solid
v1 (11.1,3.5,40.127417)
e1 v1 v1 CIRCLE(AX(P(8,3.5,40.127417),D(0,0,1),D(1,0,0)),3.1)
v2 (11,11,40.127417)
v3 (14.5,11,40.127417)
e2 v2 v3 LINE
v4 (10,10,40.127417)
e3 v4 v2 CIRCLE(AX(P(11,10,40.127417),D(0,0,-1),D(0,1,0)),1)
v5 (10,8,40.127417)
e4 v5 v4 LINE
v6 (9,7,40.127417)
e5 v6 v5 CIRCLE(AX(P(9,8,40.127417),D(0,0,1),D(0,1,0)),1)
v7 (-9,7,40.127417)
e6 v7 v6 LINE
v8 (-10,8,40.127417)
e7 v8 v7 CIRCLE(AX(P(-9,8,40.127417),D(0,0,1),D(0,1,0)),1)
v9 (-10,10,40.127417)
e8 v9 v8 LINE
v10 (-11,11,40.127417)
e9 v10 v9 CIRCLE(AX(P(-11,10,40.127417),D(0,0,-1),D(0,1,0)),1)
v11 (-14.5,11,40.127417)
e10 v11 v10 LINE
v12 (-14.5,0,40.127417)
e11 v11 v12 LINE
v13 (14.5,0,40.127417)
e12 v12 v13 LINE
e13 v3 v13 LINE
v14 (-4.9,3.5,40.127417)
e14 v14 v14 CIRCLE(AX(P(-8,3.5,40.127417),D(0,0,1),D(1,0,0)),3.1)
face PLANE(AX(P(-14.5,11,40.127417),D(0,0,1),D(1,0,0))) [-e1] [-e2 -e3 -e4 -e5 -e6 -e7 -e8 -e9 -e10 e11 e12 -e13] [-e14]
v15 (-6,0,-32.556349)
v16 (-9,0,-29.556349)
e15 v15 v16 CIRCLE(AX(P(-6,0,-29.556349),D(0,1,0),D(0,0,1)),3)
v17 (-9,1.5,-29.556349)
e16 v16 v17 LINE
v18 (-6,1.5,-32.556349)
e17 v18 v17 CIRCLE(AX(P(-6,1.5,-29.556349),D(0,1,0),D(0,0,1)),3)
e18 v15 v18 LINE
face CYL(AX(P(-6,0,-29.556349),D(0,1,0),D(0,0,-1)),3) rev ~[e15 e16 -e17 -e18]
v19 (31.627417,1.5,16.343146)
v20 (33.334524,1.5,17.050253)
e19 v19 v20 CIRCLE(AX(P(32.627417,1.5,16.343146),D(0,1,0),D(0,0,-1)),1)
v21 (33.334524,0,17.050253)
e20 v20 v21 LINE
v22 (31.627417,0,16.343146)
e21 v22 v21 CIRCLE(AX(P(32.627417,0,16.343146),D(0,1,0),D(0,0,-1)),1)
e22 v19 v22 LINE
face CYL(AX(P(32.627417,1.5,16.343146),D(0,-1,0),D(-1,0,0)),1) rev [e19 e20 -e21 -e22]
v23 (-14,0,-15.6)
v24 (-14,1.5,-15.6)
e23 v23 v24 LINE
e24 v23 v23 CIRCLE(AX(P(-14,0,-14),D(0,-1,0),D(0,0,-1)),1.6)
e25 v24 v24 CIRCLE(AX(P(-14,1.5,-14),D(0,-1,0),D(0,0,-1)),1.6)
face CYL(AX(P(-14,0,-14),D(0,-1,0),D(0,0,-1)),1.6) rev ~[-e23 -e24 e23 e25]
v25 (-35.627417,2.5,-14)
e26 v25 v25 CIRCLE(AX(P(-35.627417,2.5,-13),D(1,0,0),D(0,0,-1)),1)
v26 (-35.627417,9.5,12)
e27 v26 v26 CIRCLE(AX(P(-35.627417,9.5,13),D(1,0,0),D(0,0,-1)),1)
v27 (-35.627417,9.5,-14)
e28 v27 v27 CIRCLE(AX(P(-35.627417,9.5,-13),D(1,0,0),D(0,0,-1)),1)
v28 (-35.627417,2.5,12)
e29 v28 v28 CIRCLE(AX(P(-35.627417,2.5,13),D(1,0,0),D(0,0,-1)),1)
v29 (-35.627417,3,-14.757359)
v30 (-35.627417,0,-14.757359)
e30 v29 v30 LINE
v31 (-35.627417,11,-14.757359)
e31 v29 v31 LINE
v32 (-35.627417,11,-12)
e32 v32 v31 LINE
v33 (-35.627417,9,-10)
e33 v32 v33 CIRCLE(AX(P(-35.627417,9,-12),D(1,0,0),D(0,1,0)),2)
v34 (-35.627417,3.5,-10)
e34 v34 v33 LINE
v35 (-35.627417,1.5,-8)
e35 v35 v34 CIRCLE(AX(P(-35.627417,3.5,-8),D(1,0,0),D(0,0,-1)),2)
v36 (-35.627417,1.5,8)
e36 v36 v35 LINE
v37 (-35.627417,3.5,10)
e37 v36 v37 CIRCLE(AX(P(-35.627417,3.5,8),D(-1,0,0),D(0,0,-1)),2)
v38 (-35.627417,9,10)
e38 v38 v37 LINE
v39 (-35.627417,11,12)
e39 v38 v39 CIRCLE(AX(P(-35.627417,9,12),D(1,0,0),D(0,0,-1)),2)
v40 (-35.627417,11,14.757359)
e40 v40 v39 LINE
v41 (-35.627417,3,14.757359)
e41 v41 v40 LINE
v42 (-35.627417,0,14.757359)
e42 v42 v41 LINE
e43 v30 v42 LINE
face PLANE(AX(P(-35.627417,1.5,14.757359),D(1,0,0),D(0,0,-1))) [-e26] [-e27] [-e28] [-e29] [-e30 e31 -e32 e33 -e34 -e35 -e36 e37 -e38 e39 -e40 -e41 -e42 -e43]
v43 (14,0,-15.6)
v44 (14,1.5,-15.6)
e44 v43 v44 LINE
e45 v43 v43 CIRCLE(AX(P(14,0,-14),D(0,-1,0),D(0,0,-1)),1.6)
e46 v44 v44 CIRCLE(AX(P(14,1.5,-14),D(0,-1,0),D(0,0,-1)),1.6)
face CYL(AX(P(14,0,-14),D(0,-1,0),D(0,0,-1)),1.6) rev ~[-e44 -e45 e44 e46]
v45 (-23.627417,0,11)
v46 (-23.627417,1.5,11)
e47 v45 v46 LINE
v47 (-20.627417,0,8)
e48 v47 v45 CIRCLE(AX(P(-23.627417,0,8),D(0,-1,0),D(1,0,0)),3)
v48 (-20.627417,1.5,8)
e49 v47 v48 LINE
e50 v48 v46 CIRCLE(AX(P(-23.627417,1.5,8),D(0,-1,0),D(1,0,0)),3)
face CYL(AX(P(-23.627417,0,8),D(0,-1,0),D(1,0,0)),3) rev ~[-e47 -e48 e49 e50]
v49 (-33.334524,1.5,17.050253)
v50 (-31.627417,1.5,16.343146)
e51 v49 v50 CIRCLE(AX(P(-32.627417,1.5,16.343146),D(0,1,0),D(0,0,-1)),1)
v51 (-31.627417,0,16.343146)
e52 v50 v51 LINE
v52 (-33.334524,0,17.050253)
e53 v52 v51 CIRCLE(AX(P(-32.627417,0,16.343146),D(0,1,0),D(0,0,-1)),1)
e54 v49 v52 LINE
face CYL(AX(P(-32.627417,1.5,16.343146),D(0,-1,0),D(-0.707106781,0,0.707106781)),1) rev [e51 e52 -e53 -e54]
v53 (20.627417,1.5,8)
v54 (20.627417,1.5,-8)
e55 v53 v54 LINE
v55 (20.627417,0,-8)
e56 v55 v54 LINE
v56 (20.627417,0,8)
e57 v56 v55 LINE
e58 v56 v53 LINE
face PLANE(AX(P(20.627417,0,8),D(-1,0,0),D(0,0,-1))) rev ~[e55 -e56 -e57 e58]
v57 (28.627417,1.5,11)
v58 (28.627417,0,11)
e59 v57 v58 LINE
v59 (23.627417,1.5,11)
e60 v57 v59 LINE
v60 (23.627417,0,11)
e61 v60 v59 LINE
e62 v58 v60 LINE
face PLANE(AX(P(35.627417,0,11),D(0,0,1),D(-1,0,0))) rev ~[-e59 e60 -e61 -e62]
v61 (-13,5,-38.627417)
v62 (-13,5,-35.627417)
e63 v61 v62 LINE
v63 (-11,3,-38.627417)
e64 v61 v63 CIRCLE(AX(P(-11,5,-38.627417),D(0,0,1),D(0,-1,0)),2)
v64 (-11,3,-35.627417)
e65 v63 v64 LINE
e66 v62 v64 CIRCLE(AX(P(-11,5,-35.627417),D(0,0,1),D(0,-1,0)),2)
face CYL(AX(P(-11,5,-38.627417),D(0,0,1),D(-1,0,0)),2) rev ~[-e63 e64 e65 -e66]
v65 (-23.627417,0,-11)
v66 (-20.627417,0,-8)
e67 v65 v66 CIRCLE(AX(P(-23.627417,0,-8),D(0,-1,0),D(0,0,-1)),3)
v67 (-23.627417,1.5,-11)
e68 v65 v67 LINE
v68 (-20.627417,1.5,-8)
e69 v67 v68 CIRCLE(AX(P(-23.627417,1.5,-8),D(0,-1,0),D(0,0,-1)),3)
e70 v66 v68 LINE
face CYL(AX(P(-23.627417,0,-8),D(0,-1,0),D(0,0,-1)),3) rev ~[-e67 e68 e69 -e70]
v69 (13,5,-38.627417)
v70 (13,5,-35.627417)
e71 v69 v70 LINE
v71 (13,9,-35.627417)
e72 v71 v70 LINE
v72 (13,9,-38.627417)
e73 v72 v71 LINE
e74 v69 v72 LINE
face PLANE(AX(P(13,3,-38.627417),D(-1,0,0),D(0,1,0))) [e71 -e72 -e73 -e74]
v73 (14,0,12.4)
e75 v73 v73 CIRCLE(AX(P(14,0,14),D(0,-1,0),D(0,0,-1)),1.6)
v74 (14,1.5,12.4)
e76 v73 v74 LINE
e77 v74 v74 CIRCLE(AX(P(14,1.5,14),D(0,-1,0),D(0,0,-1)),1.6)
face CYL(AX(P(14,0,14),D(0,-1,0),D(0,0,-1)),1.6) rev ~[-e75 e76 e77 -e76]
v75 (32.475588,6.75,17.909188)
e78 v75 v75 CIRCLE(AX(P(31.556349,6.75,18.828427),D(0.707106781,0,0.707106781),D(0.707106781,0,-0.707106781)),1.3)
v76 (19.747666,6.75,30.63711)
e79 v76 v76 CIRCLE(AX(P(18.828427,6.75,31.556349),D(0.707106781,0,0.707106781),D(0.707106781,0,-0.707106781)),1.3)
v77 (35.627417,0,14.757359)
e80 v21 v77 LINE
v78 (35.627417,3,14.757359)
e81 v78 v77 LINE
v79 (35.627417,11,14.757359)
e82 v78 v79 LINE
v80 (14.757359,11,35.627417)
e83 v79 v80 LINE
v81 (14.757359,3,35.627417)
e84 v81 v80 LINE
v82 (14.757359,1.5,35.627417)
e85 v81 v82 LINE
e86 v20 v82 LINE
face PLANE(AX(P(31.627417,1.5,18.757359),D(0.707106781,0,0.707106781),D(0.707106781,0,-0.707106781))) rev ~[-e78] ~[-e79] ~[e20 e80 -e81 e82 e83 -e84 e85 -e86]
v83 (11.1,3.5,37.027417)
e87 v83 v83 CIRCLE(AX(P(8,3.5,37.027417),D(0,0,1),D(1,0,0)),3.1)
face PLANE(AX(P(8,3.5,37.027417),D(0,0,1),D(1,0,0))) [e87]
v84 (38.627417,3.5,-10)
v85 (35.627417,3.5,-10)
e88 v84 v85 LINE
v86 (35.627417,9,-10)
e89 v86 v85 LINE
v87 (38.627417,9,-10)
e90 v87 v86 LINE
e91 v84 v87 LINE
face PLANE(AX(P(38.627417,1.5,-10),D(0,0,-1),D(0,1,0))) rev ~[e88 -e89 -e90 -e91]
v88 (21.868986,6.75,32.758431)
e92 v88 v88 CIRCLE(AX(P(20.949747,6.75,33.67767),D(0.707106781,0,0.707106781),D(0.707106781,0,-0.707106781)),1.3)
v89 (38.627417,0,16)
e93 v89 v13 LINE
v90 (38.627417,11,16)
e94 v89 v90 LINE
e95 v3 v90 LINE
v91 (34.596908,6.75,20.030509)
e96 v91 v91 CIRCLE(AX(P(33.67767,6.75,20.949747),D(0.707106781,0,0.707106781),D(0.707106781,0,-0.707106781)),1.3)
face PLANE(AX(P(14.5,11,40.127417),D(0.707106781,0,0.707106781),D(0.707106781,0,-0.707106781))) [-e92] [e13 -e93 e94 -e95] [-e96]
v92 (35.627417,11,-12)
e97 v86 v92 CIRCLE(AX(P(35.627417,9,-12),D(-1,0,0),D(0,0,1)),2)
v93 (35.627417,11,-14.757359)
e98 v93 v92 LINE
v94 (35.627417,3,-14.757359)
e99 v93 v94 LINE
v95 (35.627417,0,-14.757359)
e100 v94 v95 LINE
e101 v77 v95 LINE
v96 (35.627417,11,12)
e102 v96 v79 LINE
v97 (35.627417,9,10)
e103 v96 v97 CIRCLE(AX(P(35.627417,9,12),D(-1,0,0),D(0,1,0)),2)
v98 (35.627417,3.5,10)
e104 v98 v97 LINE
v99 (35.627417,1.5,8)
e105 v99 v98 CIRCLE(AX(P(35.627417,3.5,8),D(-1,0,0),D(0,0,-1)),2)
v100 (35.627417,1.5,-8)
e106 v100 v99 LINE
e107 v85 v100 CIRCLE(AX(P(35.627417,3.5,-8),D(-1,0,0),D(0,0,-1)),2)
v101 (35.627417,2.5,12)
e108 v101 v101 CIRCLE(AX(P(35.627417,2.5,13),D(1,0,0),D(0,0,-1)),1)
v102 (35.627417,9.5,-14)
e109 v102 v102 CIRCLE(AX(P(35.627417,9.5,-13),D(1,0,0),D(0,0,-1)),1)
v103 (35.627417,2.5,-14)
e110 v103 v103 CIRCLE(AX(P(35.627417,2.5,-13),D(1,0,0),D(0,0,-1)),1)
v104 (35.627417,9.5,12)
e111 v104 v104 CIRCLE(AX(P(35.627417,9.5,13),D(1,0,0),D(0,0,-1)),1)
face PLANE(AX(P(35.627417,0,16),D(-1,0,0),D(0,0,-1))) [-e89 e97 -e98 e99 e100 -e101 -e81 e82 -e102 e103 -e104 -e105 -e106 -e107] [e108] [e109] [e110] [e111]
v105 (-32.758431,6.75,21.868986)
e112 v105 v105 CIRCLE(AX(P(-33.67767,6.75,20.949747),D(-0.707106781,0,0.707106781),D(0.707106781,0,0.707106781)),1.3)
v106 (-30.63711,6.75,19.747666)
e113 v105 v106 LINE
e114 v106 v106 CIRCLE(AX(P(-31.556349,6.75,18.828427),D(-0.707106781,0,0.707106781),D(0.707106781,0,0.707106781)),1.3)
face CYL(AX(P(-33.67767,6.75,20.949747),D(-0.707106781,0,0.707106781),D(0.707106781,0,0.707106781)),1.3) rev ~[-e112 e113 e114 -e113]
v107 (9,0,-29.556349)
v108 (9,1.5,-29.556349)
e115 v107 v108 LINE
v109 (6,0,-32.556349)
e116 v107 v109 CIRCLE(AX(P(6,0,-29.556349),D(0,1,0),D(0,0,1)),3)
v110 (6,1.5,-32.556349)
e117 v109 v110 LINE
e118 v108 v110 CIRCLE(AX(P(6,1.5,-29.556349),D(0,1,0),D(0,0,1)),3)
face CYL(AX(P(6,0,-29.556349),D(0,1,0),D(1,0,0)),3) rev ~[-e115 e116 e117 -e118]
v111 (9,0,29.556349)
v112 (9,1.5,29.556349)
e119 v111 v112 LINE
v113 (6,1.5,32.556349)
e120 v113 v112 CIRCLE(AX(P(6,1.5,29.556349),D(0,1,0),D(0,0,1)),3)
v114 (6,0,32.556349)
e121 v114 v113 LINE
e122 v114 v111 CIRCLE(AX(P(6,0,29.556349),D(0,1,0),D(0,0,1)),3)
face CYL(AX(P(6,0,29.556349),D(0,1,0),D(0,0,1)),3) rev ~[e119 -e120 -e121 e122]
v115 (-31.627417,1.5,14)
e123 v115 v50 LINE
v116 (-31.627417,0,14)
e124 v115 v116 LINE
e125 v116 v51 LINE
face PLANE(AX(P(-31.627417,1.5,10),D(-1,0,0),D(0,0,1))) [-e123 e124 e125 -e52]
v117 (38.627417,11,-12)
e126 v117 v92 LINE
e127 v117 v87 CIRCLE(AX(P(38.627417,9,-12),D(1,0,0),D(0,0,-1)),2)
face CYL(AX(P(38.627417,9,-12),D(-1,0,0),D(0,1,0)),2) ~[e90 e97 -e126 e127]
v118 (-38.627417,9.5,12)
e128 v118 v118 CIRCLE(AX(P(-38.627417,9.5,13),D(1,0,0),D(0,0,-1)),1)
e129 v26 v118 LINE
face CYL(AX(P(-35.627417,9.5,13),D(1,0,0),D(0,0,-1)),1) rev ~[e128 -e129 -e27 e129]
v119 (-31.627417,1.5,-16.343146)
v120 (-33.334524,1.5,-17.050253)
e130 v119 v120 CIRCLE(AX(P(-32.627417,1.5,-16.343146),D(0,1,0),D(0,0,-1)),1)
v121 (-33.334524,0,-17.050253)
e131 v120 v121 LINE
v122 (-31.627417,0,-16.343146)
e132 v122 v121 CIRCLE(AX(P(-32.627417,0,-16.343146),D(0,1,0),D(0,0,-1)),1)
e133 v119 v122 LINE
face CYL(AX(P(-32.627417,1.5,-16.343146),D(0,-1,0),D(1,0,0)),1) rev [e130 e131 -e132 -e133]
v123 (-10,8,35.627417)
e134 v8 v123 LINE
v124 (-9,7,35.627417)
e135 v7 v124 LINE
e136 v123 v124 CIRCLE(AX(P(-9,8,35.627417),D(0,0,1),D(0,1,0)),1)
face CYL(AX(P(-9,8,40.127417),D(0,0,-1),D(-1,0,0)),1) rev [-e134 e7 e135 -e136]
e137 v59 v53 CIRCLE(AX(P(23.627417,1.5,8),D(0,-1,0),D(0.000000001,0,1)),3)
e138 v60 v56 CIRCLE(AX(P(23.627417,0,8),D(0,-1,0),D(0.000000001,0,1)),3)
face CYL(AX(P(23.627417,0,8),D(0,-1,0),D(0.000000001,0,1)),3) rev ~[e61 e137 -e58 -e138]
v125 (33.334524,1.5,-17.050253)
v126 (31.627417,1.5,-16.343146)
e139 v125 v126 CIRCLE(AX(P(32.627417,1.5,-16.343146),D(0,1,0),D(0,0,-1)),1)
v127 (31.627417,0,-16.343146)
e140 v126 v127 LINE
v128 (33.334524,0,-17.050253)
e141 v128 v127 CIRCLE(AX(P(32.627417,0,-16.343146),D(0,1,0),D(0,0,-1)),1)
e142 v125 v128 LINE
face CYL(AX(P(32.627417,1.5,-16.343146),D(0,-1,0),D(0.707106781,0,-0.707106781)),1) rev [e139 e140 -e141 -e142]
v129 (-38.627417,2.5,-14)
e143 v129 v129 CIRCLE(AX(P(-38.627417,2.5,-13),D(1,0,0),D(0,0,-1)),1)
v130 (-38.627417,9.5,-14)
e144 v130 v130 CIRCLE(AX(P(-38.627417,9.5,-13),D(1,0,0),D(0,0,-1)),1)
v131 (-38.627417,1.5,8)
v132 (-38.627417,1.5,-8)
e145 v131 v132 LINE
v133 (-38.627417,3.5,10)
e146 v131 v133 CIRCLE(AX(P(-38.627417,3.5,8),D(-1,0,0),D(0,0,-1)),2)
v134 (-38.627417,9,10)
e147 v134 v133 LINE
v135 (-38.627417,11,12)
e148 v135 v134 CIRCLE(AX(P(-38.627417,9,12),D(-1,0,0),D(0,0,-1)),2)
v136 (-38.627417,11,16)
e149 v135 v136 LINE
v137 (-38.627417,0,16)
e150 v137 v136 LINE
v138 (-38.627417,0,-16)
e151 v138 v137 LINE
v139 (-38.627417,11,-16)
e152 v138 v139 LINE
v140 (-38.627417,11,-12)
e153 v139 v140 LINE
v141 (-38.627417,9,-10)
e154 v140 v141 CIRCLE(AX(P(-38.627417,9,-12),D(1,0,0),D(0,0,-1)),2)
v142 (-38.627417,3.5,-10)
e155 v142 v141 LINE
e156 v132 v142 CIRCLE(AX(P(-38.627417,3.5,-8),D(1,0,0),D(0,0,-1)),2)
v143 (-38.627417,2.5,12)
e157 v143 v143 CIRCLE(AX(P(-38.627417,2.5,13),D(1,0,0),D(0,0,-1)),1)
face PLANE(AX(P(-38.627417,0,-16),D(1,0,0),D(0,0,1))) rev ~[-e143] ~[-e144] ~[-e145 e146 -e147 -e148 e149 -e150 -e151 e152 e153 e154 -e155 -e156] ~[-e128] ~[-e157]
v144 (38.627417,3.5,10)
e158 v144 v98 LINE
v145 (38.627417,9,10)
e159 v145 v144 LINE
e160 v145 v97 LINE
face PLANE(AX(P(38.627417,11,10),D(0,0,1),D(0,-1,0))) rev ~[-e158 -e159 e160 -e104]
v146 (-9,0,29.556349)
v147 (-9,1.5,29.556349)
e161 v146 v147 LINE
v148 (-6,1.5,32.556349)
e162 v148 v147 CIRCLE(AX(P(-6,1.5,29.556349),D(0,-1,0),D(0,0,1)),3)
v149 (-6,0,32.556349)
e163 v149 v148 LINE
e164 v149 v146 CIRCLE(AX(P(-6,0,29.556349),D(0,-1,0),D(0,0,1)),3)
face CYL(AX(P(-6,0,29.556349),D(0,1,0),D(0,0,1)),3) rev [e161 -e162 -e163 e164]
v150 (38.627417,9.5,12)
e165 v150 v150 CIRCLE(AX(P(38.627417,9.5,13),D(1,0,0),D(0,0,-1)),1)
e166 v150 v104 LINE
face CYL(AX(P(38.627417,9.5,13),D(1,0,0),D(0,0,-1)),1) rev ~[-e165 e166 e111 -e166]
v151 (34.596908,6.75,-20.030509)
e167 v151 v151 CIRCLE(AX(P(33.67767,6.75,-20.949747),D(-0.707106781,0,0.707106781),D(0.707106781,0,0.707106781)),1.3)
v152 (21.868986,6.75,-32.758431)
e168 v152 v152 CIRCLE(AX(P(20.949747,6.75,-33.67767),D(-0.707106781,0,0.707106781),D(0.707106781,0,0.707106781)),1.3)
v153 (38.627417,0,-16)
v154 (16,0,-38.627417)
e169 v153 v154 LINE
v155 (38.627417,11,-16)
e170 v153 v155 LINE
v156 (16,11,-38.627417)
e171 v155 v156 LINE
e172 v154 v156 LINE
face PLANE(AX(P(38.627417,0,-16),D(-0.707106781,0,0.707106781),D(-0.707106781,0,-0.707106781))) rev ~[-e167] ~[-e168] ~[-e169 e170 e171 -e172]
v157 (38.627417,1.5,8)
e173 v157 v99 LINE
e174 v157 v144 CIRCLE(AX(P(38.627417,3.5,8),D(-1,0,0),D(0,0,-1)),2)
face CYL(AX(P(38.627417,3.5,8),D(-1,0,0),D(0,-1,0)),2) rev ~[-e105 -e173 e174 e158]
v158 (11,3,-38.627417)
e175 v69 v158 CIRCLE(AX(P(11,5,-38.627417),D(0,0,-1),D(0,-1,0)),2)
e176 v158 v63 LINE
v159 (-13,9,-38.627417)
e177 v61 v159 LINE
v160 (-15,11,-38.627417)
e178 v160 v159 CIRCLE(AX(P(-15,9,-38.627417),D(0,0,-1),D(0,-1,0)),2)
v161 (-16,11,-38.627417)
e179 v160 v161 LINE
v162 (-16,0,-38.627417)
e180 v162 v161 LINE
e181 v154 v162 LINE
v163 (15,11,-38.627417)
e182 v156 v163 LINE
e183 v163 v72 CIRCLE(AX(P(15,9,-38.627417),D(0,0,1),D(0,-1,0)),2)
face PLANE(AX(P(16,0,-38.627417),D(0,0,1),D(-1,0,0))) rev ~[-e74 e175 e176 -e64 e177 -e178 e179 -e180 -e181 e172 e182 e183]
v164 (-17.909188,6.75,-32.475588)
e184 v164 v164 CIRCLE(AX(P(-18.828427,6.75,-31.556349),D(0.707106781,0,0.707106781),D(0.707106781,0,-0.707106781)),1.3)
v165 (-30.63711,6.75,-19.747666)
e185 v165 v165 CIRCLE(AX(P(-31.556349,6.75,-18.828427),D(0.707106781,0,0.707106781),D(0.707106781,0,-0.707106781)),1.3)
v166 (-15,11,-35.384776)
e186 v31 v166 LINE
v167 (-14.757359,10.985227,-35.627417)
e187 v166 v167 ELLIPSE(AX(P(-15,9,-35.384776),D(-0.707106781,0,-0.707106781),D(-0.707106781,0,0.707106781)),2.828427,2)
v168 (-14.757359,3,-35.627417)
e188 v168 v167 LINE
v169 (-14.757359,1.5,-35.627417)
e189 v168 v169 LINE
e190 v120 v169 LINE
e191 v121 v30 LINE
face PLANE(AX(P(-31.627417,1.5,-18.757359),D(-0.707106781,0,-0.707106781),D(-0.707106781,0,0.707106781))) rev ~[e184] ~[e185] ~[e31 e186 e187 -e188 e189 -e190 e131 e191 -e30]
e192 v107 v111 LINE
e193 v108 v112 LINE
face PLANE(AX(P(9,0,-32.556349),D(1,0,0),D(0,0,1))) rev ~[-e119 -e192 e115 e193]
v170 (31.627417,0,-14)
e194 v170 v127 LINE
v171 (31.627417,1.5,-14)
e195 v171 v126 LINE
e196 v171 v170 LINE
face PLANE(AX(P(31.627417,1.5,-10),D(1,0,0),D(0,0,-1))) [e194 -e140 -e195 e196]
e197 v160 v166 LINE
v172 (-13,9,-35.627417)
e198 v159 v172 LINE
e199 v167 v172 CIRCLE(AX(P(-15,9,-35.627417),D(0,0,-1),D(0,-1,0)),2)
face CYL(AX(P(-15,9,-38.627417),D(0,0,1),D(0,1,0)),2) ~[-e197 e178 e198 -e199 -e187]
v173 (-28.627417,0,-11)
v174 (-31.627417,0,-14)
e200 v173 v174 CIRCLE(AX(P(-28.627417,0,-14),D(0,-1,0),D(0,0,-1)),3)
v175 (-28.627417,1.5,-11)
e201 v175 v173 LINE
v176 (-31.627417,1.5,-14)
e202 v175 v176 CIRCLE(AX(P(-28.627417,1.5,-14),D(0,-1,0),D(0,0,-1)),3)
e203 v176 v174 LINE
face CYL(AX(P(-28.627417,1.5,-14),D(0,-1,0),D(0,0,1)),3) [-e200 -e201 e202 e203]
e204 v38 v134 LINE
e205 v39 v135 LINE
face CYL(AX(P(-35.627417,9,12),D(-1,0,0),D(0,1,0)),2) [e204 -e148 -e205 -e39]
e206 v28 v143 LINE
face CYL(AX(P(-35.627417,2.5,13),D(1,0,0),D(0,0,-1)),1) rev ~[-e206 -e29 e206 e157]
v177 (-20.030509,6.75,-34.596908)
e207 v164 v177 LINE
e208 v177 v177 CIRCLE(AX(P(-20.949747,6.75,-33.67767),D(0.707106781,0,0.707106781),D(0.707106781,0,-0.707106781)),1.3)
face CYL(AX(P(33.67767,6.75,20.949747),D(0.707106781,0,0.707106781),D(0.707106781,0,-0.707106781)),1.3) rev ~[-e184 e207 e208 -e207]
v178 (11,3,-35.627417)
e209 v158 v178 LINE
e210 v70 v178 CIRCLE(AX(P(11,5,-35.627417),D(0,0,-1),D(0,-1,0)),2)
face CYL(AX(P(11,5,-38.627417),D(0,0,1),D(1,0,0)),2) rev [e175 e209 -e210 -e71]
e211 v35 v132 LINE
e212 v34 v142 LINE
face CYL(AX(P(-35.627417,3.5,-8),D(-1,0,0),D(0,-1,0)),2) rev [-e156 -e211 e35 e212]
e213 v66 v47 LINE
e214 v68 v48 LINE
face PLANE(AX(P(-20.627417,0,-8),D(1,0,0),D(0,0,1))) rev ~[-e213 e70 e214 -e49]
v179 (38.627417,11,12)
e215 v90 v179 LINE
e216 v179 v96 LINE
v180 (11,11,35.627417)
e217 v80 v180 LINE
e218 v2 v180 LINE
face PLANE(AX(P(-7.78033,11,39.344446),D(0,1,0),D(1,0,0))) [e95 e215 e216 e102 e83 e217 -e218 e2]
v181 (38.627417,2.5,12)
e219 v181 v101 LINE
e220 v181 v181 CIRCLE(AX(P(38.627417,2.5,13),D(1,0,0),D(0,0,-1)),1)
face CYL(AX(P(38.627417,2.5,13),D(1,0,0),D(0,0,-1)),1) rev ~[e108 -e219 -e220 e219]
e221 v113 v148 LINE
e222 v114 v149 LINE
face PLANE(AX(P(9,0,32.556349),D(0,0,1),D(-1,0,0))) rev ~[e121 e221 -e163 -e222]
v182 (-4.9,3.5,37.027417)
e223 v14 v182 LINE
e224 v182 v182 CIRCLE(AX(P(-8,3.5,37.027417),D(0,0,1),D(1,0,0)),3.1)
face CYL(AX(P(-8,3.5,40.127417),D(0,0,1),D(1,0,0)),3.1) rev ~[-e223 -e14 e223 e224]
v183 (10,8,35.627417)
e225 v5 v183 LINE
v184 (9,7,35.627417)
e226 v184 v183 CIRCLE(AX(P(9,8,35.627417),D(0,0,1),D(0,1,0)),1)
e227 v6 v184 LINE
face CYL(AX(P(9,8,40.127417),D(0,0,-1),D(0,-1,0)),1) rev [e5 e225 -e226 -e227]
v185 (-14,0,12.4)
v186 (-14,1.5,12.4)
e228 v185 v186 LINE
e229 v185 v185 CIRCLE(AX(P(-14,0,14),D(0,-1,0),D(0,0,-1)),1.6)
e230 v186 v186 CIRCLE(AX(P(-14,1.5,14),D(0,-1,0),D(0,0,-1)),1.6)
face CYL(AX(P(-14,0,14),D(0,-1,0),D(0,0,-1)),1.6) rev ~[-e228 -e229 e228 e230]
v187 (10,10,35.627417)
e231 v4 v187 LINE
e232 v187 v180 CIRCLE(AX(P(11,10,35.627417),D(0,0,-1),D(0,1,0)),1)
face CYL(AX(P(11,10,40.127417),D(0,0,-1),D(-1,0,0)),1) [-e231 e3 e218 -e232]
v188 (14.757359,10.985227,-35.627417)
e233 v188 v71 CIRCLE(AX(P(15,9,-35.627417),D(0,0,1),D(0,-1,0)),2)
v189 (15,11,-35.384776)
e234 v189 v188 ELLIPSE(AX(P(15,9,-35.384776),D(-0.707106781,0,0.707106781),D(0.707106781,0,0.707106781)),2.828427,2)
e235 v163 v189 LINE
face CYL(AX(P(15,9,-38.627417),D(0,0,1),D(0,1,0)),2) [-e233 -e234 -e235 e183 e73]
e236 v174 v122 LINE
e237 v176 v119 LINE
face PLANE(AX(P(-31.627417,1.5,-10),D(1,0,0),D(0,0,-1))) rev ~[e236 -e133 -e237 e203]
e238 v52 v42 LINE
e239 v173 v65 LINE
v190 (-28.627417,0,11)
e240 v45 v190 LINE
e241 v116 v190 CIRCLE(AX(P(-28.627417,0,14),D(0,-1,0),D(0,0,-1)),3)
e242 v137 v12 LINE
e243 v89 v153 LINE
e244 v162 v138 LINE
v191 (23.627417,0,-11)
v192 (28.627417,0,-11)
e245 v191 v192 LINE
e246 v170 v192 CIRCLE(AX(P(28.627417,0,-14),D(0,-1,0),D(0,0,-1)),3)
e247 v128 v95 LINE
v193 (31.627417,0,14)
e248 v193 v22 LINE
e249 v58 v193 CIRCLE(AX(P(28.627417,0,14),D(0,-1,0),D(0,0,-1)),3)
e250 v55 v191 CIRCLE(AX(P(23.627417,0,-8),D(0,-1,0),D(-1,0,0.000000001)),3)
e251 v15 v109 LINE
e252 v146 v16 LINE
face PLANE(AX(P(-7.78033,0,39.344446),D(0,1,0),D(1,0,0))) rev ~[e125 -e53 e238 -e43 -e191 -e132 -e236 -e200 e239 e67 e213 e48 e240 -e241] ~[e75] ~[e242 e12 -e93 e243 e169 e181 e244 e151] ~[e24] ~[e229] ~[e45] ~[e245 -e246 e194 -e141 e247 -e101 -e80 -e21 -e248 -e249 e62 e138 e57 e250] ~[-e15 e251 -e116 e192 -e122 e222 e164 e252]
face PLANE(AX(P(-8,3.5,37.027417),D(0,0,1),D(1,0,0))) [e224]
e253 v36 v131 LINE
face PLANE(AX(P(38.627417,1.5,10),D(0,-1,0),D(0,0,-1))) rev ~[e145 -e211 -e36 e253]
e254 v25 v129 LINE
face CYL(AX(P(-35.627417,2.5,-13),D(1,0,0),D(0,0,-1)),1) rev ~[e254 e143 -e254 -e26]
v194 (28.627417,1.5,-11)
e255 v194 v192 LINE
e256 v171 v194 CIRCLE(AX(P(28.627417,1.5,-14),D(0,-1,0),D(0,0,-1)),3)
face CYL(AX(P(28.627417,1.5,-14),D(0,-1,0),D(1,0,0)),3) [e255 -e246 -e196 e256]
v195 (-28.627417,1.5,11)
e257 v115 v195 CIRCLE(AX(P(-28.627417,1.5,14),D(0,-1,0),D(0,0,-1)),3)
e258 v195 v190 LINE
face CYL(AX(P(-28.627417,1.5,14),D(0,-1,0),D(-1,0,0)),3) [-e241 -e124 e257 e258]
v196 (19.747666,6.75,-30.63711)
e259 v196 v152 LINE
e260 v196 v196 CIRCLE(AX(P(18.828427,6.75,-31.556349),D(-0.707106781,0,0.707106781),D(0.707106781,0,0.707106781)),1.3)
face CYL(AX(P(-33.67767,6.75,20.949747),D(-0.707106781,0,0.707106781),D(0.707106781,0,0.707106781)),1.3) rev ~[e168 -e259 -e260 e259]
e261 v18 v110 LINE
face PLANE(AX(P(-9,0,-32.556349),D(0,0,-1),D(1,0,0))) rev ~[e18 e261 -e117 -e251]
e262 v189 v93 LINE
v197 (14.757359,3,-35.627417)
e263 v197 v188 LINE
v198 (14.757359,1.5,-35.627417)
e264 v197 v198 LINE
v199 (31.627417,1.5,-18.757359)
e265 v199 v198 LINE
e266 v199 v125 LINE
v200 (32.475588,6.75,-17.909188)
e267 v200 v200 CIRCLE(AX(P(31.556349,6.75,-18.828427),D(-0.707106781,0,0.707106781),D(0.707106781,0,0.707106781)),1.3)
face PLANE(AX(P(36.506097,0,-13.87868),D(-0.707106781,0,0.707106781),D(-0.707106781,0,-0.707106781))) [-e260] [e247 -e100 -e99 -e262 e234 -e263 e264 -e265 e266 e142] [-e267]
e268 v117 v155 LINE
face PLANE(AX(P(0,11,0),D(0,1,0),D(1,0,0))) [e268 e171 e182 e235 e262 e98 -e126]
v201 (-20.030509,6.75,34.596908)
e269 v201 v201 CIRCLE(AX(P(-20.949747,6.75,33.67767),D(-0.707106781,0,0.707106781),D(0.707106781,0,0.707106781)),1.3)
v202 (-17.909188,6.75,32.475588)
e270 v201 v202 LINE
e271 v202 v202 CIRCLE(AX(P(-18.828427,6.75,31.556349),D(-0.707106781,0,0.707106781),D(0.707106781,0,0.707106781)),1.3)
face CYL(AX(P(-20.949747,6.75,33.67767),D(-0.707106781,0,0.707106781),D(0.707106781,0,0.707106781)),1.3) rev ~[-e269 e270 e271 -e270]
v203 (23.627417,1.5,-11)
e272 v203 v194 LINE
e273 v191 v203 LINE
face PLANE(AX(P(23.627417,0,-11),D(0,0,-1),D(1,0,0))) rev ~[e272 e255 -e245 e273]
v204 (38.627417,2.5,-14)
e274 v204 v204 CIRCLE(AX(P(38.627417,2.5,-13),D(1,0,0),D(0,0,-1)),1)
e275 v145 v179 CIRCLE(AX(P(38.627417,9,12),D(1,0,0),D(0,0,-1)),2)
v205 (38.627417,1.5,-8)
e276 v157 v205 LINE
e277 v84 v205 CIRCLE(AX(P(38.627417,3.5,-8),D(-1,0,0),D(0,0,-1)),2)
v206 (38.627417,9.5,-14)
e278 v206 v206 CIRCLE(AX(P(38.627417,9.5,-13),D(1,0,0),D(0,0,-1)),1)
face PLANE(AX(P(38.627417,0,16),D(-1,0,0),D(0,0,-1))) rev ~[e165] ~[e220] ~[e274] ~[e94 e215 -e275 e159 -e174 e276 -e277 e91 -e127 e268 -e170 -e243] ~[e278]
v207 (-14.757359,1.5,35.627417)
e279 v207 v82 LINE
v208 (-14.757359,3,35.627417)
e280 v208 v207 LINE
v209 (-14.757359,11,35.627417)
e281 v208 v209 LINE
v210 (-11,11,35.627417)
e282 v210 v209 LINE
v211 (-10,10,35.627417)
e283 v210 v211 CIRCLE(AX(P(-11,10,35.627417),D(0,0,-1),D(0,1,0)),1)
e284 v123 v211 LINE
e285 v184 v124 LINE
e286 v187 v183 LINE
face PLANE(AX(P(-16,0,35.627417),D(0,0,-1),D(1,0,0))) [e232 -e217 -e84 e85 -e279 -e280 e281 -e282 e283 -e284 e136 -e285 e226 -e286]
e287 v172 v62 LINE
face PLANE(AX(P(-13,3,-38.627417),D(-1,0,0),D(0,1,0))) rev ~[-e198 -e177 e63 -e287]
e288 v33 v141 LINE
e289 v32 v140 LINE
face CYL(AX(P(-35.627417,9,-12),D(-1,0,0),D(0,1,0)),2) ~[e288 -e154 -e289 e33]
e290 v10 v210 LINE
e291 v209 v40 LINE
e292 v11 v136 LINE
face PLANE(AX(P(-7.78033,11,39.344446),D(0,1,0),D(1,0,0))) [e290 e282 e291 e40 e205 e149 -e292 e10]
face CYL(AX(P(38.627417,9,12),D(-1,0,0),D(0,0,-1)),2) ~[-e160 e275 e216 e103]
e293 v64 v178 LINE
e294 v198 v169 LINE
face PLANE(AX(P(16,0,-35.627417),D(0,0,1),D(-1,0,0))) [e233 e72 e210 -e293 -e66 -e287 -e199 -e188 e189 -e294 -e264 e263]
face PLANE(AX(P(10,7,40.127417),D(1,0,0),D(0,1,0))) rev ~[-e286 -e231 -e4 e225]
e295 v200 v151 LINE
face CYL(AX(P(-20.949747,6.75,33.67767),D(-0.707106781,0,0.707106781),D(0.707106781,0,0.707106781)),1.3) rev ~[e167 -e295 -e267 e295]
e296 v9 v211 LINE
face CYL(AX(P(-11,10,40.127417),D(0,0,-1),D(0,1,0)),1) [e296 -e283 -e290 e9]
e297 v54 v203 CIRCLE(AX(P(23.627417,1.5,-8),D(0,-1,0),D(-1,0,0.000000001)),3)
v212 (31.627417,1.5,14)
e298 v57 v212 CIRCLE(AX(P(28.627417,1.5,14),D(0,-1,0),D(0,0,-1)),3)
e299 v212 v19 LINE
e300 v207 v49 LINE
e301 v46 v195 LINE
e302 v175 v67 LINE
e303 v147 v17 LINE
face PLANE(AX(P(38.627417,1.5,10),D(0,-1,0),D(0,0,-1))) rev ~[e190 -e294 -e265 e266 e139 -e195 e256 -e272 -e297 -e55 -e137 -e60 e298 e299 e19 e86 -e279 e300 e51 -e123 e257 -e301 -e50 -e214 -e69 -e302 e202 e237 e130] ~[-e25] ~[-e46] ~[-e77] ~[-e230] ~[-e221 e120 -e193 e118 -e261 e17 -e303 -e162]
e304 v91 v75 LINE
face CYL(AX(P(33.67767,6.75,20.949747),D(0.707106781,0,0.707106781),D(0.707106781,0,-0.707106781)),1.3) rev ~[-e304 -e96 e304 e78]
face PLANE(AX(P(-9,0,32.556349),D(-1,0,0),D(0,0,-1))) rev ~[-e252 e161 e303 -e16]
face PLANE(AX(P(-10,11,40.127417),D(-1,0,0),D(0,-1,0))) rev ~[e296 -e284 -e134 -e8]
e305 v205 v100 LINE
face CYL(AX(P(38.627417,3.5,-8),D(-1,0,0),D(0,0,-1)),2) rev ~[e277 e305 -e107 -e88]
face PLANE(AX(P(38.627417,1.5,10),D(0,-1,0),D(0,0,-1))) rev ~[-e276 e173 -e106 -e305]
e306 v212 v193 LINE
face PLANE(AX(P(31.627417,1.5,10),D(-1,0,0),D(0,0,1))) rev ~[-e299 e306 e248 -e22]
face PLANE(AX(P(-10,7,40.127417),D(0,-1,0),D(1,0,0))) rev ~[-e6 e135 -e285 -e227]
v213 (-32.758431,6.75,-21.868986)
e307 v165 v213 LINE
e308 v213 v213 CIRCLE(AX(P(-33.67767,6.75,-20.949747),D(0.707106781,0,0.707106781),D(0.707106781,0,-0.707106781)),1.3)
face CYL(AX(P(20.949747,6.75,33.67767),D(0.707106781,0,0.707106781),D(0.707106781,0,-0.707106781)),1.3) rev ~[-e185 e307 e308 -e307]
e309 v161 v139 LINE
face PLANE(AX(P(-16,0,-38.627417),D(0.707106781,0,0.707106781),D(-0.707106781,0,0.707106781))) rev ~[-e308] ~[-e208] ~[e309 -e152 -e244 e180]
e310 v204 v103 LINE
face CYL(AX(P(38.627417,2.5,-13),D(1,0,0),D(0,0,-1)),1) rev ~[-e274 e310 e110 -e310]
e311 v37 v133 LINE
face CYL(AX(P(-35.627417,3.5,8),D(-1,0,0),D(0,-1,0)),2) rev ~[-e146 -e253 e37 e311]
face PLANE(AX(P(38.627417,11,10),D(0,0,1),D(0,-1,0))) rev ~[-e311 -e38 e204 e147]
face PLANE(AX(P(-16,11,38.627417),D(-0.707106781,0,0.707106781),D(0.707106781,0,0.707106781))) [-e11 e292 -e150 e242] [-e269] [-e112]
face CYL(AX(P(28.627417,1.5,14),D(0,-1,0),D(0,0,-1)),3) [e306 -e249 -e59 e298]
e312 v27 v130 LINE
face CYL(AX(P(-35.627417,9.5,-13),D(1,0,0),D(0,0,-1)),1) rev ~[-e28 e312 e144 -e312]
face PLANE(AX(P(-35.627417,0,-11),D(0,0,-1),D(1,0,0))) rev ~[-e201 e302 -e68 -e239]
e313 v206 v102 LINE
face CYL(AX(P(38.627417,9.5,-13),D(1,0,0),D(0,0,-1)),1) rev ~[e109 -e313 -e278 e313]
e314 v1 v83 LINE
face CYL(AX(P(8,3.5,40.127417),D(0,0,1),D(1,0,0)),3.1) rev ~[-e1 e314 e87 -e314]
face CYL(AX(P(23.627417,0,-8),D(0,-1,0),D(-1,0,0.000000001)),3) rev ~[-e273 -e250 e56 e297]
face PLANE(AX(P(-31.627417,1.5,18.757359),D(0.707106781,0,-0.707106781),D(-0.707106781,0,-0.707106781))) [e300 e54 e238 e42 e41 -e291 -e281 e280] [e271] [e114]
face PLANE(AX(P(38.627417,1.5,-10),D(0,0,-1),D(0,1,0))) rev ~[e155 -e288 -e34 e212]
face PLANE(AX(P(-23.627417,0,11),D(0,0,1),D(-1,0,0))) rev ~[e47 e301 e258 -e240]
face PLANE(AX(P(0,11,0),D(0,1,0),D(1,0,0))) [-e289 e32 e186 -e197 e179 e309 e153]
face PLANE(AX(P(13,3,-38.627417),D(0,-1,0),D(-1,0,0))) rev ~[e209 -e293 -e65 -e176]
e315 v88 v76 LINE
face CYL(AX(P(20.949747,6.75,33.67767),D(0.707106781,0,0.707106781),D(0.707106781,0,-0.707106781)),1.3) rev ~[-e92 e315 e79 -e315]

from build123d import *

# Parameters (mm, degrees)
BOSS_EXTRUDE1_DEPTH      = 11
SHELL1_T                 = -3
SHELL1_THICKNESS_2_DEPTH = 1.5
SKETCH2_R                = 1.3
CUT_EXTRUDE1_DEPTH       = 152
SKETCH3_R                = 1.3
CUT_EXTRUDE2_DEPTH       = 152
CUT_EXTRUDE3_DEPTH       = 152
SKETCH5_W                = 13
SKETCH5_H                = 8
CUT_EXTRUDE4_DEPTH       = 45
FILLET1_R                = 2
CUT_EXTRUDE6_DEPTH       = 92
SKETCH6_R                = 1
CUT_EXTRUDE7_DEPTH       = 5
SKETCH12_R               = 1
CUT_EXTRUDE8_DEPTH       = 5
FILLET2_R                = 1
BOSS_EXTRUDE2_DEPTH      = 11
SKETCH14_R               = 3.1
CUT_EXTRUDE9_DEPTH       = 3.1
CUT_EXTRUDE10_DEPTH      = 9.1
FILLET3_R                = 1
SKETCH19_R               = 1.6
CUT_EXTRUDE12_DEPTH      = 10
FILLET4_R                = 3


with BuildPart() as part:
    # Sketch1 → Boss-Extrude1 (new body)
    with BuildSketch(Plane(origin=(0, 0, 0), x_dir=(1, 0, 0), z_dir=(0, 1, 0))):
        Polygon((38.627416998, 16), (16, 38.627416998), (-16, 38.627416998), (-38.627416998, 16), (-38.627416998, -16), (-16, -38.627416998), (16, -38.627416998), (38.627416998, -16), align=None)
    extrude(amount=BOSS_EXTRUDE1_DEPTH)

    # Shell1
    shell1_openings = [part.faces().sort_by_distance(p)[0] for p in [
        (0, 11, 0),
    ]]
    offset(amount=SHELL1_T, openings=shell1_openings, kind=Kind.INTERSECTION)

    # Shell1 thickness 2 face (on inner face of the shell) → Shell1 thickness 2 (cut)
    with BuildSketch(Plane(origin=(0, 3, 0), x_dir=(0, 0, -1), z_dir=(0, -1, 0))):
        Polygon((-14.757359313, 35.627416998), (14.757359313, 35.627416998), (35.627416998, 14.757359313), (35.627416998, -14.757359313), (14.757359313, -35.627416998), (-14.757359313, -35.627416998), (-35.627416998, -14.757359313), (-35.627416998, 14.757359313), align=None)
    extrude(amount=SHELL1_THICKNESS_2_DEPTH, mode=Mode.SUBTRACT)

    # Sketch2 → Cut-Extrude1 (cut)
    with BuildSketch(Plane(origin=(27.313708499, 0, 27.313708499), x_dir=(0.7071067811865475, 0, -0.7071067811865477), z_dir=(0.7071067811865477, 0, 0.7071067811865475))):
        with Locations((9, 6.75)):
            Circle(SKETCH2_R)
        with Locations((-9, 6.75)):
            Circle(SKETCH2_R)
    extrude(amount=-CUT_EXTRUDE1_DEPTH, mode=Mode.SUBTRACT)

    # Sketch3 → Cut-Extrude2 (cut)
    with BuildSketch(Plane(origin=(-27.313708499, 0, 27.313708499), x_dir=(0.7071067811865476, 0, 0.7071067811865476), z_dir=(-0.7071067811865476, 0, 0.7071067811865476))):
        with Locations((9, 6.75)):
            Circle(SKETCH3_R)
        with Locations((-9, 6.75)):
            Circle(SKETCH3_R)
    extrude(amount=-CUT_EXTRUDE2_DEPTH, mode=Mode.SUBTRACT)

    # Sketch4 → Cut-Extrude3 (cut)
    with BuildSketch(Plane(origin=(38.627416998, 0, 0), x_dir=(0, 0, -1), z_dir=(1, 0, 0))):
        Polygon((0, 1.5), (10, 1.5), (10, 11), (0, 11), (-10, 11), (-10, 1.5), align=None)
    extrude(amount=-CUT_EXTRUDE3_DEPTH, mode=Mode.SUBTRACT)

    # Sketch5 → Cut-Extrude4 (cut)
    with BuildSketch(Plane(origin=(0, 0, -38.627416998), x_dir=(-1, 0, 0), z_dir=(0, 0, -1))):
        with Locations((-6.5, 7)):
            Rectangle(SKETCH5_W, SKETCH5_H)
        with Locations((6.5, 7)):
            Rectangle(SKETCH5_W, SKETCH5_H)
    extrude(amount=-CUT_EXTRUDE4_DEPTH, mode=Mode.SUBTRACT)

    # Fillet1
    fillet1_edges = [part.edges().sort_by_distance(p)[0] for p in [
        (-13, 11, -37.127416998),
        (-13, 3, -37.127416998),
        (13, 11, -37.127416998),
        (13, 3, -37.127416998),
        (37.127416998, 11, 10),
        (37.127416998, 1.5, 10),
        (37.127416998, 11, -10),
        (37.127416998, 1.5, -10),
        (-37.127416998, 11, -10),
        (-37.127416998, 1.5, -10),
        (-37.127416998, 11, 10),
        (-37.127416998, 1.5, 10),
    ]]
    fillet(fillet1_edges, radius=FILLET1_R)

    # Sketch7 → Cut-Extrude6 (cut)
    with BuildSketch(Plane(origin=(0, 1.5, 0), x_dir=(1, 0, 0), z_dir=(0, 1, 0))):
        Polygon((35.627416998, -10.000000003), (31.627416998, -10.000000003), (31.627416998, -18.757359313), (35.627416998, -14.757359313), align=None)
        Polygon((35.627416998, 14.757359313), (35.627416998, 10.000000003), (31.627416998, 10.000000003), (31.627416998, 18.757359313), align=None)
        Polygon((-35.627416998, 10.000000003), (-31.627416998, 10.000000003), (-31.627416998, 18.757359313), (-35.627416998, 14.757359313), align=None)
        Polygon((-35.627416998, -14.757359313), (-35.627416998, -10.000000003), (-31.627416998, -10.000000003), (-31.627416998, -18.757359313), align=None)
    extrude(amount=-CUT_EXTRUDE6_DEPTH, mode=Mode.SUBTRACT)

    # Sketch6 → Cut-Extrude7 (cut)
    with BuildSketch(Plane(origin=(38.627416998, 0, 0), x_dir=(0, 0, -1), z_dir=(1, 0, 0))):
        with Locations((-13, 9.5)):
            Circle(SKETCH6_R)
        with Locations((-13, 2.5)):
            Circle(SKETCH6_R)
        with Locations((13, 2.5)):
            Circle(SKETCH6_R)
        with Locations((13, 9.5)):
            Circle(SKETCH6_R)
    extrude(amount=-CUT_EXTRUDE7_DEPTH, mode=Mode.SUBTRACT)

    # Sketch12 → Cut-Extrude8 (cut)
    with BuildSketch(Plane(origin=(-35.627416998, 0, 0), x_dir=(0, 0, -1), z_dir=(1, 0, 0))):
        with Locations((-13, 9.5)):
            Circle(SKETCH12_R)
        with Locations((-13, 2.5)):
            Circle(SKETCH12_R)
        with Locations((13, 2.5)):
            Circle(SKETCH12_R)
        with Locations((13, 9.5)):
            Circle(SKETCH12_R)
    extrude(amount=-CUT_EXTRUDE8_DEPTH, mode=Mode.SUBTRACT)

    # Fillet2
    fillet2_edges = [part.edges().sort_by_distance(p)[0] for p in [
        (-31.627416998, 0.75, 10.000000003),
        (-31.627416998, 0.75, 18.757359313),
        (-35.627416998, 0.75, 10.000000003),
        (35.627416998, 0.75, -10.000000003),
        (31.627416998, 0.75, -10.000000003),
        (31.627416998, 0.75, -18.757359313),
        (31.627416998, 0.75, 10.000000003),
        (35.627416998, 0.75, 10.000000003),
        (31.627416998, 0.75, 18.757359313),
        (-31.627416998, 0.75, -10.000000003),
        (-35.627416998, 0.75, -10.000000003),
        (-31.627416998, 0.75, -18.757359313),
    ]]
    fillet(fillet2_edges, radius=FILLET2_R)

    # Sketch13 → Boss-Extrude2 (add)
    with BuildSketch(Plane(origin=(0, 11, 0), x_dir=(1, 0, 0), z_dir=(0, 1, 0))):
        Polygon((0, -38.627416998), (-16, -38.627416998), (-14.5, -40.127416998), (0, -40.127416998), align=None)
        Polygon((16, -38.627416998), (0, -38.627416998), (0, -40.127416998), (14.5, -40.127416998), align=None)
    extrude(amount=-BOSS_EXTRUDE2_DEPTH)

    # Sketch14 → Cut-Extrude9 (cut)
    with BuildSketch(Plane.XY.offset(40.127416998)):
        with Locations((8, 3.5)):
            Circle(SKETCH14_R)
        with Locations((-8, 3.5)):
            Circle(SKETCH14_R)
    extrude(amount=-CUT_EXTRUDE9_DEPTH, mode=Mode.SUBTRACT)

    # Sketch18 → Cut-Extrude10 (cut)
    with BuildSketch(Plane.XY.offset(40.127416998)):
        Polygon((-10, 7), (0, 7), (10, 7), (10, 11), (-10, 11), align=None)
    extrude(amount=-CUT_EXTRUDE10_DEPTH, mode=Mode.SUBTRACT)

    # Fillet3
    fillet3_edges = [part.edges().sort_by_distance(p)[0] for p in [
        (-10, 7, 37.877416998),
        (-10, 11, 37.877416998),
        (10, 11, 37.877416998),
        (10, 7, 37.877416998),
    ]]
    fillet(fillet3_edges, radius=FILLET3_R)

    # Sketch19 → Cut-Extrude12 (cut)
    with BuildSketch(Plane(origin=(0, 0, 0), x_dir=(-1, 0, 0), z_dir=(0, -1, 0))):
        Polygon((9, -32.556349186), (9, 32.556349186), (-9, 32.556349186), (-9, -14), (-9, -32.556349186), align=None)
        with Locations(Location((-14, -14, 0), (0, 0, 90))):
            Circle(SKETCH19_R)
        with BuildLine():
            Line((-35.627416998, -11), (-23.627416998, -11))
            ThreePointArc((-23.627416998, -11), (-21.506096654, -10.121320344), (-20.627416998, -8))
            Line((-20.627416998, -8), (-20.627416998, 7.999999998))
            ThreePointArc((-20.627416998, 7.999999998), (-21.506096654, 10.121320342), (-23.627416998, 10.999999998))
            Line((-23.627416998, 10.999999998), (-35.627416998, 10.999999998))
            Line((-35.627416998, 10.999999998), (-35.627416998, -11))
        make_face()
        with BuildLine():
            Line((35.627416998, 11.000000003), (23.627416998, 11.000000003))
            ThreePointArc((23.627416998, 11.000000003), (21.506096652, 10.121320344), (20.627416998, 7.999999997))
            Line((20.627416998, 7.999999997), (20.627416998, -8.000000003))
            ThreePointArc((20.627416998, -8.000000003), (21.506096654, -10.121320346), (23.627416998, -11.000000003))
            Line((23.627416998, -11.000000003), (35.627416998, -11.000000003))
            Line((35.627416998, -11.000000003), (35.627416998, 11.000000003))
        make_face()
        with Locations(Location((14, -14, 0), (0, 0, 90))):
            Circle(SKETCH19_R)
        with Locations(Location((-14, 14, 0), (0, 0, 90))):
            Circle(SKETCH19_R)
        with Locations(Location((14, 14, 0), (0, 0, 90))):
            Circle(SKETCH19_R)
    extrude(amount=-CUT_EXTRUDE12_DEPTH, mode=Mode.SUBTRACT)

    # Fillet4
    fillet4_edges = [part.edges().sort_by_distance(p)[0] for p in [
        (31.627416998, 0.75, -11.000000003),
        (31.627416998, 0.75, 11.000000003),
        (-31.627416998, 0.75, 11.000000003),
        (-31.627416998, 0.75, -11.000000003),
        (-9, 0.75, 32.556349186),
        (9, 0.75, 32.556349186),
        (9, 0.75, -32.556349186),
        (-9, 0.75, -32.556349186),
    ]]
    fillet(fillet4_edges, radius=FILLET4_R)


solid = part.part
